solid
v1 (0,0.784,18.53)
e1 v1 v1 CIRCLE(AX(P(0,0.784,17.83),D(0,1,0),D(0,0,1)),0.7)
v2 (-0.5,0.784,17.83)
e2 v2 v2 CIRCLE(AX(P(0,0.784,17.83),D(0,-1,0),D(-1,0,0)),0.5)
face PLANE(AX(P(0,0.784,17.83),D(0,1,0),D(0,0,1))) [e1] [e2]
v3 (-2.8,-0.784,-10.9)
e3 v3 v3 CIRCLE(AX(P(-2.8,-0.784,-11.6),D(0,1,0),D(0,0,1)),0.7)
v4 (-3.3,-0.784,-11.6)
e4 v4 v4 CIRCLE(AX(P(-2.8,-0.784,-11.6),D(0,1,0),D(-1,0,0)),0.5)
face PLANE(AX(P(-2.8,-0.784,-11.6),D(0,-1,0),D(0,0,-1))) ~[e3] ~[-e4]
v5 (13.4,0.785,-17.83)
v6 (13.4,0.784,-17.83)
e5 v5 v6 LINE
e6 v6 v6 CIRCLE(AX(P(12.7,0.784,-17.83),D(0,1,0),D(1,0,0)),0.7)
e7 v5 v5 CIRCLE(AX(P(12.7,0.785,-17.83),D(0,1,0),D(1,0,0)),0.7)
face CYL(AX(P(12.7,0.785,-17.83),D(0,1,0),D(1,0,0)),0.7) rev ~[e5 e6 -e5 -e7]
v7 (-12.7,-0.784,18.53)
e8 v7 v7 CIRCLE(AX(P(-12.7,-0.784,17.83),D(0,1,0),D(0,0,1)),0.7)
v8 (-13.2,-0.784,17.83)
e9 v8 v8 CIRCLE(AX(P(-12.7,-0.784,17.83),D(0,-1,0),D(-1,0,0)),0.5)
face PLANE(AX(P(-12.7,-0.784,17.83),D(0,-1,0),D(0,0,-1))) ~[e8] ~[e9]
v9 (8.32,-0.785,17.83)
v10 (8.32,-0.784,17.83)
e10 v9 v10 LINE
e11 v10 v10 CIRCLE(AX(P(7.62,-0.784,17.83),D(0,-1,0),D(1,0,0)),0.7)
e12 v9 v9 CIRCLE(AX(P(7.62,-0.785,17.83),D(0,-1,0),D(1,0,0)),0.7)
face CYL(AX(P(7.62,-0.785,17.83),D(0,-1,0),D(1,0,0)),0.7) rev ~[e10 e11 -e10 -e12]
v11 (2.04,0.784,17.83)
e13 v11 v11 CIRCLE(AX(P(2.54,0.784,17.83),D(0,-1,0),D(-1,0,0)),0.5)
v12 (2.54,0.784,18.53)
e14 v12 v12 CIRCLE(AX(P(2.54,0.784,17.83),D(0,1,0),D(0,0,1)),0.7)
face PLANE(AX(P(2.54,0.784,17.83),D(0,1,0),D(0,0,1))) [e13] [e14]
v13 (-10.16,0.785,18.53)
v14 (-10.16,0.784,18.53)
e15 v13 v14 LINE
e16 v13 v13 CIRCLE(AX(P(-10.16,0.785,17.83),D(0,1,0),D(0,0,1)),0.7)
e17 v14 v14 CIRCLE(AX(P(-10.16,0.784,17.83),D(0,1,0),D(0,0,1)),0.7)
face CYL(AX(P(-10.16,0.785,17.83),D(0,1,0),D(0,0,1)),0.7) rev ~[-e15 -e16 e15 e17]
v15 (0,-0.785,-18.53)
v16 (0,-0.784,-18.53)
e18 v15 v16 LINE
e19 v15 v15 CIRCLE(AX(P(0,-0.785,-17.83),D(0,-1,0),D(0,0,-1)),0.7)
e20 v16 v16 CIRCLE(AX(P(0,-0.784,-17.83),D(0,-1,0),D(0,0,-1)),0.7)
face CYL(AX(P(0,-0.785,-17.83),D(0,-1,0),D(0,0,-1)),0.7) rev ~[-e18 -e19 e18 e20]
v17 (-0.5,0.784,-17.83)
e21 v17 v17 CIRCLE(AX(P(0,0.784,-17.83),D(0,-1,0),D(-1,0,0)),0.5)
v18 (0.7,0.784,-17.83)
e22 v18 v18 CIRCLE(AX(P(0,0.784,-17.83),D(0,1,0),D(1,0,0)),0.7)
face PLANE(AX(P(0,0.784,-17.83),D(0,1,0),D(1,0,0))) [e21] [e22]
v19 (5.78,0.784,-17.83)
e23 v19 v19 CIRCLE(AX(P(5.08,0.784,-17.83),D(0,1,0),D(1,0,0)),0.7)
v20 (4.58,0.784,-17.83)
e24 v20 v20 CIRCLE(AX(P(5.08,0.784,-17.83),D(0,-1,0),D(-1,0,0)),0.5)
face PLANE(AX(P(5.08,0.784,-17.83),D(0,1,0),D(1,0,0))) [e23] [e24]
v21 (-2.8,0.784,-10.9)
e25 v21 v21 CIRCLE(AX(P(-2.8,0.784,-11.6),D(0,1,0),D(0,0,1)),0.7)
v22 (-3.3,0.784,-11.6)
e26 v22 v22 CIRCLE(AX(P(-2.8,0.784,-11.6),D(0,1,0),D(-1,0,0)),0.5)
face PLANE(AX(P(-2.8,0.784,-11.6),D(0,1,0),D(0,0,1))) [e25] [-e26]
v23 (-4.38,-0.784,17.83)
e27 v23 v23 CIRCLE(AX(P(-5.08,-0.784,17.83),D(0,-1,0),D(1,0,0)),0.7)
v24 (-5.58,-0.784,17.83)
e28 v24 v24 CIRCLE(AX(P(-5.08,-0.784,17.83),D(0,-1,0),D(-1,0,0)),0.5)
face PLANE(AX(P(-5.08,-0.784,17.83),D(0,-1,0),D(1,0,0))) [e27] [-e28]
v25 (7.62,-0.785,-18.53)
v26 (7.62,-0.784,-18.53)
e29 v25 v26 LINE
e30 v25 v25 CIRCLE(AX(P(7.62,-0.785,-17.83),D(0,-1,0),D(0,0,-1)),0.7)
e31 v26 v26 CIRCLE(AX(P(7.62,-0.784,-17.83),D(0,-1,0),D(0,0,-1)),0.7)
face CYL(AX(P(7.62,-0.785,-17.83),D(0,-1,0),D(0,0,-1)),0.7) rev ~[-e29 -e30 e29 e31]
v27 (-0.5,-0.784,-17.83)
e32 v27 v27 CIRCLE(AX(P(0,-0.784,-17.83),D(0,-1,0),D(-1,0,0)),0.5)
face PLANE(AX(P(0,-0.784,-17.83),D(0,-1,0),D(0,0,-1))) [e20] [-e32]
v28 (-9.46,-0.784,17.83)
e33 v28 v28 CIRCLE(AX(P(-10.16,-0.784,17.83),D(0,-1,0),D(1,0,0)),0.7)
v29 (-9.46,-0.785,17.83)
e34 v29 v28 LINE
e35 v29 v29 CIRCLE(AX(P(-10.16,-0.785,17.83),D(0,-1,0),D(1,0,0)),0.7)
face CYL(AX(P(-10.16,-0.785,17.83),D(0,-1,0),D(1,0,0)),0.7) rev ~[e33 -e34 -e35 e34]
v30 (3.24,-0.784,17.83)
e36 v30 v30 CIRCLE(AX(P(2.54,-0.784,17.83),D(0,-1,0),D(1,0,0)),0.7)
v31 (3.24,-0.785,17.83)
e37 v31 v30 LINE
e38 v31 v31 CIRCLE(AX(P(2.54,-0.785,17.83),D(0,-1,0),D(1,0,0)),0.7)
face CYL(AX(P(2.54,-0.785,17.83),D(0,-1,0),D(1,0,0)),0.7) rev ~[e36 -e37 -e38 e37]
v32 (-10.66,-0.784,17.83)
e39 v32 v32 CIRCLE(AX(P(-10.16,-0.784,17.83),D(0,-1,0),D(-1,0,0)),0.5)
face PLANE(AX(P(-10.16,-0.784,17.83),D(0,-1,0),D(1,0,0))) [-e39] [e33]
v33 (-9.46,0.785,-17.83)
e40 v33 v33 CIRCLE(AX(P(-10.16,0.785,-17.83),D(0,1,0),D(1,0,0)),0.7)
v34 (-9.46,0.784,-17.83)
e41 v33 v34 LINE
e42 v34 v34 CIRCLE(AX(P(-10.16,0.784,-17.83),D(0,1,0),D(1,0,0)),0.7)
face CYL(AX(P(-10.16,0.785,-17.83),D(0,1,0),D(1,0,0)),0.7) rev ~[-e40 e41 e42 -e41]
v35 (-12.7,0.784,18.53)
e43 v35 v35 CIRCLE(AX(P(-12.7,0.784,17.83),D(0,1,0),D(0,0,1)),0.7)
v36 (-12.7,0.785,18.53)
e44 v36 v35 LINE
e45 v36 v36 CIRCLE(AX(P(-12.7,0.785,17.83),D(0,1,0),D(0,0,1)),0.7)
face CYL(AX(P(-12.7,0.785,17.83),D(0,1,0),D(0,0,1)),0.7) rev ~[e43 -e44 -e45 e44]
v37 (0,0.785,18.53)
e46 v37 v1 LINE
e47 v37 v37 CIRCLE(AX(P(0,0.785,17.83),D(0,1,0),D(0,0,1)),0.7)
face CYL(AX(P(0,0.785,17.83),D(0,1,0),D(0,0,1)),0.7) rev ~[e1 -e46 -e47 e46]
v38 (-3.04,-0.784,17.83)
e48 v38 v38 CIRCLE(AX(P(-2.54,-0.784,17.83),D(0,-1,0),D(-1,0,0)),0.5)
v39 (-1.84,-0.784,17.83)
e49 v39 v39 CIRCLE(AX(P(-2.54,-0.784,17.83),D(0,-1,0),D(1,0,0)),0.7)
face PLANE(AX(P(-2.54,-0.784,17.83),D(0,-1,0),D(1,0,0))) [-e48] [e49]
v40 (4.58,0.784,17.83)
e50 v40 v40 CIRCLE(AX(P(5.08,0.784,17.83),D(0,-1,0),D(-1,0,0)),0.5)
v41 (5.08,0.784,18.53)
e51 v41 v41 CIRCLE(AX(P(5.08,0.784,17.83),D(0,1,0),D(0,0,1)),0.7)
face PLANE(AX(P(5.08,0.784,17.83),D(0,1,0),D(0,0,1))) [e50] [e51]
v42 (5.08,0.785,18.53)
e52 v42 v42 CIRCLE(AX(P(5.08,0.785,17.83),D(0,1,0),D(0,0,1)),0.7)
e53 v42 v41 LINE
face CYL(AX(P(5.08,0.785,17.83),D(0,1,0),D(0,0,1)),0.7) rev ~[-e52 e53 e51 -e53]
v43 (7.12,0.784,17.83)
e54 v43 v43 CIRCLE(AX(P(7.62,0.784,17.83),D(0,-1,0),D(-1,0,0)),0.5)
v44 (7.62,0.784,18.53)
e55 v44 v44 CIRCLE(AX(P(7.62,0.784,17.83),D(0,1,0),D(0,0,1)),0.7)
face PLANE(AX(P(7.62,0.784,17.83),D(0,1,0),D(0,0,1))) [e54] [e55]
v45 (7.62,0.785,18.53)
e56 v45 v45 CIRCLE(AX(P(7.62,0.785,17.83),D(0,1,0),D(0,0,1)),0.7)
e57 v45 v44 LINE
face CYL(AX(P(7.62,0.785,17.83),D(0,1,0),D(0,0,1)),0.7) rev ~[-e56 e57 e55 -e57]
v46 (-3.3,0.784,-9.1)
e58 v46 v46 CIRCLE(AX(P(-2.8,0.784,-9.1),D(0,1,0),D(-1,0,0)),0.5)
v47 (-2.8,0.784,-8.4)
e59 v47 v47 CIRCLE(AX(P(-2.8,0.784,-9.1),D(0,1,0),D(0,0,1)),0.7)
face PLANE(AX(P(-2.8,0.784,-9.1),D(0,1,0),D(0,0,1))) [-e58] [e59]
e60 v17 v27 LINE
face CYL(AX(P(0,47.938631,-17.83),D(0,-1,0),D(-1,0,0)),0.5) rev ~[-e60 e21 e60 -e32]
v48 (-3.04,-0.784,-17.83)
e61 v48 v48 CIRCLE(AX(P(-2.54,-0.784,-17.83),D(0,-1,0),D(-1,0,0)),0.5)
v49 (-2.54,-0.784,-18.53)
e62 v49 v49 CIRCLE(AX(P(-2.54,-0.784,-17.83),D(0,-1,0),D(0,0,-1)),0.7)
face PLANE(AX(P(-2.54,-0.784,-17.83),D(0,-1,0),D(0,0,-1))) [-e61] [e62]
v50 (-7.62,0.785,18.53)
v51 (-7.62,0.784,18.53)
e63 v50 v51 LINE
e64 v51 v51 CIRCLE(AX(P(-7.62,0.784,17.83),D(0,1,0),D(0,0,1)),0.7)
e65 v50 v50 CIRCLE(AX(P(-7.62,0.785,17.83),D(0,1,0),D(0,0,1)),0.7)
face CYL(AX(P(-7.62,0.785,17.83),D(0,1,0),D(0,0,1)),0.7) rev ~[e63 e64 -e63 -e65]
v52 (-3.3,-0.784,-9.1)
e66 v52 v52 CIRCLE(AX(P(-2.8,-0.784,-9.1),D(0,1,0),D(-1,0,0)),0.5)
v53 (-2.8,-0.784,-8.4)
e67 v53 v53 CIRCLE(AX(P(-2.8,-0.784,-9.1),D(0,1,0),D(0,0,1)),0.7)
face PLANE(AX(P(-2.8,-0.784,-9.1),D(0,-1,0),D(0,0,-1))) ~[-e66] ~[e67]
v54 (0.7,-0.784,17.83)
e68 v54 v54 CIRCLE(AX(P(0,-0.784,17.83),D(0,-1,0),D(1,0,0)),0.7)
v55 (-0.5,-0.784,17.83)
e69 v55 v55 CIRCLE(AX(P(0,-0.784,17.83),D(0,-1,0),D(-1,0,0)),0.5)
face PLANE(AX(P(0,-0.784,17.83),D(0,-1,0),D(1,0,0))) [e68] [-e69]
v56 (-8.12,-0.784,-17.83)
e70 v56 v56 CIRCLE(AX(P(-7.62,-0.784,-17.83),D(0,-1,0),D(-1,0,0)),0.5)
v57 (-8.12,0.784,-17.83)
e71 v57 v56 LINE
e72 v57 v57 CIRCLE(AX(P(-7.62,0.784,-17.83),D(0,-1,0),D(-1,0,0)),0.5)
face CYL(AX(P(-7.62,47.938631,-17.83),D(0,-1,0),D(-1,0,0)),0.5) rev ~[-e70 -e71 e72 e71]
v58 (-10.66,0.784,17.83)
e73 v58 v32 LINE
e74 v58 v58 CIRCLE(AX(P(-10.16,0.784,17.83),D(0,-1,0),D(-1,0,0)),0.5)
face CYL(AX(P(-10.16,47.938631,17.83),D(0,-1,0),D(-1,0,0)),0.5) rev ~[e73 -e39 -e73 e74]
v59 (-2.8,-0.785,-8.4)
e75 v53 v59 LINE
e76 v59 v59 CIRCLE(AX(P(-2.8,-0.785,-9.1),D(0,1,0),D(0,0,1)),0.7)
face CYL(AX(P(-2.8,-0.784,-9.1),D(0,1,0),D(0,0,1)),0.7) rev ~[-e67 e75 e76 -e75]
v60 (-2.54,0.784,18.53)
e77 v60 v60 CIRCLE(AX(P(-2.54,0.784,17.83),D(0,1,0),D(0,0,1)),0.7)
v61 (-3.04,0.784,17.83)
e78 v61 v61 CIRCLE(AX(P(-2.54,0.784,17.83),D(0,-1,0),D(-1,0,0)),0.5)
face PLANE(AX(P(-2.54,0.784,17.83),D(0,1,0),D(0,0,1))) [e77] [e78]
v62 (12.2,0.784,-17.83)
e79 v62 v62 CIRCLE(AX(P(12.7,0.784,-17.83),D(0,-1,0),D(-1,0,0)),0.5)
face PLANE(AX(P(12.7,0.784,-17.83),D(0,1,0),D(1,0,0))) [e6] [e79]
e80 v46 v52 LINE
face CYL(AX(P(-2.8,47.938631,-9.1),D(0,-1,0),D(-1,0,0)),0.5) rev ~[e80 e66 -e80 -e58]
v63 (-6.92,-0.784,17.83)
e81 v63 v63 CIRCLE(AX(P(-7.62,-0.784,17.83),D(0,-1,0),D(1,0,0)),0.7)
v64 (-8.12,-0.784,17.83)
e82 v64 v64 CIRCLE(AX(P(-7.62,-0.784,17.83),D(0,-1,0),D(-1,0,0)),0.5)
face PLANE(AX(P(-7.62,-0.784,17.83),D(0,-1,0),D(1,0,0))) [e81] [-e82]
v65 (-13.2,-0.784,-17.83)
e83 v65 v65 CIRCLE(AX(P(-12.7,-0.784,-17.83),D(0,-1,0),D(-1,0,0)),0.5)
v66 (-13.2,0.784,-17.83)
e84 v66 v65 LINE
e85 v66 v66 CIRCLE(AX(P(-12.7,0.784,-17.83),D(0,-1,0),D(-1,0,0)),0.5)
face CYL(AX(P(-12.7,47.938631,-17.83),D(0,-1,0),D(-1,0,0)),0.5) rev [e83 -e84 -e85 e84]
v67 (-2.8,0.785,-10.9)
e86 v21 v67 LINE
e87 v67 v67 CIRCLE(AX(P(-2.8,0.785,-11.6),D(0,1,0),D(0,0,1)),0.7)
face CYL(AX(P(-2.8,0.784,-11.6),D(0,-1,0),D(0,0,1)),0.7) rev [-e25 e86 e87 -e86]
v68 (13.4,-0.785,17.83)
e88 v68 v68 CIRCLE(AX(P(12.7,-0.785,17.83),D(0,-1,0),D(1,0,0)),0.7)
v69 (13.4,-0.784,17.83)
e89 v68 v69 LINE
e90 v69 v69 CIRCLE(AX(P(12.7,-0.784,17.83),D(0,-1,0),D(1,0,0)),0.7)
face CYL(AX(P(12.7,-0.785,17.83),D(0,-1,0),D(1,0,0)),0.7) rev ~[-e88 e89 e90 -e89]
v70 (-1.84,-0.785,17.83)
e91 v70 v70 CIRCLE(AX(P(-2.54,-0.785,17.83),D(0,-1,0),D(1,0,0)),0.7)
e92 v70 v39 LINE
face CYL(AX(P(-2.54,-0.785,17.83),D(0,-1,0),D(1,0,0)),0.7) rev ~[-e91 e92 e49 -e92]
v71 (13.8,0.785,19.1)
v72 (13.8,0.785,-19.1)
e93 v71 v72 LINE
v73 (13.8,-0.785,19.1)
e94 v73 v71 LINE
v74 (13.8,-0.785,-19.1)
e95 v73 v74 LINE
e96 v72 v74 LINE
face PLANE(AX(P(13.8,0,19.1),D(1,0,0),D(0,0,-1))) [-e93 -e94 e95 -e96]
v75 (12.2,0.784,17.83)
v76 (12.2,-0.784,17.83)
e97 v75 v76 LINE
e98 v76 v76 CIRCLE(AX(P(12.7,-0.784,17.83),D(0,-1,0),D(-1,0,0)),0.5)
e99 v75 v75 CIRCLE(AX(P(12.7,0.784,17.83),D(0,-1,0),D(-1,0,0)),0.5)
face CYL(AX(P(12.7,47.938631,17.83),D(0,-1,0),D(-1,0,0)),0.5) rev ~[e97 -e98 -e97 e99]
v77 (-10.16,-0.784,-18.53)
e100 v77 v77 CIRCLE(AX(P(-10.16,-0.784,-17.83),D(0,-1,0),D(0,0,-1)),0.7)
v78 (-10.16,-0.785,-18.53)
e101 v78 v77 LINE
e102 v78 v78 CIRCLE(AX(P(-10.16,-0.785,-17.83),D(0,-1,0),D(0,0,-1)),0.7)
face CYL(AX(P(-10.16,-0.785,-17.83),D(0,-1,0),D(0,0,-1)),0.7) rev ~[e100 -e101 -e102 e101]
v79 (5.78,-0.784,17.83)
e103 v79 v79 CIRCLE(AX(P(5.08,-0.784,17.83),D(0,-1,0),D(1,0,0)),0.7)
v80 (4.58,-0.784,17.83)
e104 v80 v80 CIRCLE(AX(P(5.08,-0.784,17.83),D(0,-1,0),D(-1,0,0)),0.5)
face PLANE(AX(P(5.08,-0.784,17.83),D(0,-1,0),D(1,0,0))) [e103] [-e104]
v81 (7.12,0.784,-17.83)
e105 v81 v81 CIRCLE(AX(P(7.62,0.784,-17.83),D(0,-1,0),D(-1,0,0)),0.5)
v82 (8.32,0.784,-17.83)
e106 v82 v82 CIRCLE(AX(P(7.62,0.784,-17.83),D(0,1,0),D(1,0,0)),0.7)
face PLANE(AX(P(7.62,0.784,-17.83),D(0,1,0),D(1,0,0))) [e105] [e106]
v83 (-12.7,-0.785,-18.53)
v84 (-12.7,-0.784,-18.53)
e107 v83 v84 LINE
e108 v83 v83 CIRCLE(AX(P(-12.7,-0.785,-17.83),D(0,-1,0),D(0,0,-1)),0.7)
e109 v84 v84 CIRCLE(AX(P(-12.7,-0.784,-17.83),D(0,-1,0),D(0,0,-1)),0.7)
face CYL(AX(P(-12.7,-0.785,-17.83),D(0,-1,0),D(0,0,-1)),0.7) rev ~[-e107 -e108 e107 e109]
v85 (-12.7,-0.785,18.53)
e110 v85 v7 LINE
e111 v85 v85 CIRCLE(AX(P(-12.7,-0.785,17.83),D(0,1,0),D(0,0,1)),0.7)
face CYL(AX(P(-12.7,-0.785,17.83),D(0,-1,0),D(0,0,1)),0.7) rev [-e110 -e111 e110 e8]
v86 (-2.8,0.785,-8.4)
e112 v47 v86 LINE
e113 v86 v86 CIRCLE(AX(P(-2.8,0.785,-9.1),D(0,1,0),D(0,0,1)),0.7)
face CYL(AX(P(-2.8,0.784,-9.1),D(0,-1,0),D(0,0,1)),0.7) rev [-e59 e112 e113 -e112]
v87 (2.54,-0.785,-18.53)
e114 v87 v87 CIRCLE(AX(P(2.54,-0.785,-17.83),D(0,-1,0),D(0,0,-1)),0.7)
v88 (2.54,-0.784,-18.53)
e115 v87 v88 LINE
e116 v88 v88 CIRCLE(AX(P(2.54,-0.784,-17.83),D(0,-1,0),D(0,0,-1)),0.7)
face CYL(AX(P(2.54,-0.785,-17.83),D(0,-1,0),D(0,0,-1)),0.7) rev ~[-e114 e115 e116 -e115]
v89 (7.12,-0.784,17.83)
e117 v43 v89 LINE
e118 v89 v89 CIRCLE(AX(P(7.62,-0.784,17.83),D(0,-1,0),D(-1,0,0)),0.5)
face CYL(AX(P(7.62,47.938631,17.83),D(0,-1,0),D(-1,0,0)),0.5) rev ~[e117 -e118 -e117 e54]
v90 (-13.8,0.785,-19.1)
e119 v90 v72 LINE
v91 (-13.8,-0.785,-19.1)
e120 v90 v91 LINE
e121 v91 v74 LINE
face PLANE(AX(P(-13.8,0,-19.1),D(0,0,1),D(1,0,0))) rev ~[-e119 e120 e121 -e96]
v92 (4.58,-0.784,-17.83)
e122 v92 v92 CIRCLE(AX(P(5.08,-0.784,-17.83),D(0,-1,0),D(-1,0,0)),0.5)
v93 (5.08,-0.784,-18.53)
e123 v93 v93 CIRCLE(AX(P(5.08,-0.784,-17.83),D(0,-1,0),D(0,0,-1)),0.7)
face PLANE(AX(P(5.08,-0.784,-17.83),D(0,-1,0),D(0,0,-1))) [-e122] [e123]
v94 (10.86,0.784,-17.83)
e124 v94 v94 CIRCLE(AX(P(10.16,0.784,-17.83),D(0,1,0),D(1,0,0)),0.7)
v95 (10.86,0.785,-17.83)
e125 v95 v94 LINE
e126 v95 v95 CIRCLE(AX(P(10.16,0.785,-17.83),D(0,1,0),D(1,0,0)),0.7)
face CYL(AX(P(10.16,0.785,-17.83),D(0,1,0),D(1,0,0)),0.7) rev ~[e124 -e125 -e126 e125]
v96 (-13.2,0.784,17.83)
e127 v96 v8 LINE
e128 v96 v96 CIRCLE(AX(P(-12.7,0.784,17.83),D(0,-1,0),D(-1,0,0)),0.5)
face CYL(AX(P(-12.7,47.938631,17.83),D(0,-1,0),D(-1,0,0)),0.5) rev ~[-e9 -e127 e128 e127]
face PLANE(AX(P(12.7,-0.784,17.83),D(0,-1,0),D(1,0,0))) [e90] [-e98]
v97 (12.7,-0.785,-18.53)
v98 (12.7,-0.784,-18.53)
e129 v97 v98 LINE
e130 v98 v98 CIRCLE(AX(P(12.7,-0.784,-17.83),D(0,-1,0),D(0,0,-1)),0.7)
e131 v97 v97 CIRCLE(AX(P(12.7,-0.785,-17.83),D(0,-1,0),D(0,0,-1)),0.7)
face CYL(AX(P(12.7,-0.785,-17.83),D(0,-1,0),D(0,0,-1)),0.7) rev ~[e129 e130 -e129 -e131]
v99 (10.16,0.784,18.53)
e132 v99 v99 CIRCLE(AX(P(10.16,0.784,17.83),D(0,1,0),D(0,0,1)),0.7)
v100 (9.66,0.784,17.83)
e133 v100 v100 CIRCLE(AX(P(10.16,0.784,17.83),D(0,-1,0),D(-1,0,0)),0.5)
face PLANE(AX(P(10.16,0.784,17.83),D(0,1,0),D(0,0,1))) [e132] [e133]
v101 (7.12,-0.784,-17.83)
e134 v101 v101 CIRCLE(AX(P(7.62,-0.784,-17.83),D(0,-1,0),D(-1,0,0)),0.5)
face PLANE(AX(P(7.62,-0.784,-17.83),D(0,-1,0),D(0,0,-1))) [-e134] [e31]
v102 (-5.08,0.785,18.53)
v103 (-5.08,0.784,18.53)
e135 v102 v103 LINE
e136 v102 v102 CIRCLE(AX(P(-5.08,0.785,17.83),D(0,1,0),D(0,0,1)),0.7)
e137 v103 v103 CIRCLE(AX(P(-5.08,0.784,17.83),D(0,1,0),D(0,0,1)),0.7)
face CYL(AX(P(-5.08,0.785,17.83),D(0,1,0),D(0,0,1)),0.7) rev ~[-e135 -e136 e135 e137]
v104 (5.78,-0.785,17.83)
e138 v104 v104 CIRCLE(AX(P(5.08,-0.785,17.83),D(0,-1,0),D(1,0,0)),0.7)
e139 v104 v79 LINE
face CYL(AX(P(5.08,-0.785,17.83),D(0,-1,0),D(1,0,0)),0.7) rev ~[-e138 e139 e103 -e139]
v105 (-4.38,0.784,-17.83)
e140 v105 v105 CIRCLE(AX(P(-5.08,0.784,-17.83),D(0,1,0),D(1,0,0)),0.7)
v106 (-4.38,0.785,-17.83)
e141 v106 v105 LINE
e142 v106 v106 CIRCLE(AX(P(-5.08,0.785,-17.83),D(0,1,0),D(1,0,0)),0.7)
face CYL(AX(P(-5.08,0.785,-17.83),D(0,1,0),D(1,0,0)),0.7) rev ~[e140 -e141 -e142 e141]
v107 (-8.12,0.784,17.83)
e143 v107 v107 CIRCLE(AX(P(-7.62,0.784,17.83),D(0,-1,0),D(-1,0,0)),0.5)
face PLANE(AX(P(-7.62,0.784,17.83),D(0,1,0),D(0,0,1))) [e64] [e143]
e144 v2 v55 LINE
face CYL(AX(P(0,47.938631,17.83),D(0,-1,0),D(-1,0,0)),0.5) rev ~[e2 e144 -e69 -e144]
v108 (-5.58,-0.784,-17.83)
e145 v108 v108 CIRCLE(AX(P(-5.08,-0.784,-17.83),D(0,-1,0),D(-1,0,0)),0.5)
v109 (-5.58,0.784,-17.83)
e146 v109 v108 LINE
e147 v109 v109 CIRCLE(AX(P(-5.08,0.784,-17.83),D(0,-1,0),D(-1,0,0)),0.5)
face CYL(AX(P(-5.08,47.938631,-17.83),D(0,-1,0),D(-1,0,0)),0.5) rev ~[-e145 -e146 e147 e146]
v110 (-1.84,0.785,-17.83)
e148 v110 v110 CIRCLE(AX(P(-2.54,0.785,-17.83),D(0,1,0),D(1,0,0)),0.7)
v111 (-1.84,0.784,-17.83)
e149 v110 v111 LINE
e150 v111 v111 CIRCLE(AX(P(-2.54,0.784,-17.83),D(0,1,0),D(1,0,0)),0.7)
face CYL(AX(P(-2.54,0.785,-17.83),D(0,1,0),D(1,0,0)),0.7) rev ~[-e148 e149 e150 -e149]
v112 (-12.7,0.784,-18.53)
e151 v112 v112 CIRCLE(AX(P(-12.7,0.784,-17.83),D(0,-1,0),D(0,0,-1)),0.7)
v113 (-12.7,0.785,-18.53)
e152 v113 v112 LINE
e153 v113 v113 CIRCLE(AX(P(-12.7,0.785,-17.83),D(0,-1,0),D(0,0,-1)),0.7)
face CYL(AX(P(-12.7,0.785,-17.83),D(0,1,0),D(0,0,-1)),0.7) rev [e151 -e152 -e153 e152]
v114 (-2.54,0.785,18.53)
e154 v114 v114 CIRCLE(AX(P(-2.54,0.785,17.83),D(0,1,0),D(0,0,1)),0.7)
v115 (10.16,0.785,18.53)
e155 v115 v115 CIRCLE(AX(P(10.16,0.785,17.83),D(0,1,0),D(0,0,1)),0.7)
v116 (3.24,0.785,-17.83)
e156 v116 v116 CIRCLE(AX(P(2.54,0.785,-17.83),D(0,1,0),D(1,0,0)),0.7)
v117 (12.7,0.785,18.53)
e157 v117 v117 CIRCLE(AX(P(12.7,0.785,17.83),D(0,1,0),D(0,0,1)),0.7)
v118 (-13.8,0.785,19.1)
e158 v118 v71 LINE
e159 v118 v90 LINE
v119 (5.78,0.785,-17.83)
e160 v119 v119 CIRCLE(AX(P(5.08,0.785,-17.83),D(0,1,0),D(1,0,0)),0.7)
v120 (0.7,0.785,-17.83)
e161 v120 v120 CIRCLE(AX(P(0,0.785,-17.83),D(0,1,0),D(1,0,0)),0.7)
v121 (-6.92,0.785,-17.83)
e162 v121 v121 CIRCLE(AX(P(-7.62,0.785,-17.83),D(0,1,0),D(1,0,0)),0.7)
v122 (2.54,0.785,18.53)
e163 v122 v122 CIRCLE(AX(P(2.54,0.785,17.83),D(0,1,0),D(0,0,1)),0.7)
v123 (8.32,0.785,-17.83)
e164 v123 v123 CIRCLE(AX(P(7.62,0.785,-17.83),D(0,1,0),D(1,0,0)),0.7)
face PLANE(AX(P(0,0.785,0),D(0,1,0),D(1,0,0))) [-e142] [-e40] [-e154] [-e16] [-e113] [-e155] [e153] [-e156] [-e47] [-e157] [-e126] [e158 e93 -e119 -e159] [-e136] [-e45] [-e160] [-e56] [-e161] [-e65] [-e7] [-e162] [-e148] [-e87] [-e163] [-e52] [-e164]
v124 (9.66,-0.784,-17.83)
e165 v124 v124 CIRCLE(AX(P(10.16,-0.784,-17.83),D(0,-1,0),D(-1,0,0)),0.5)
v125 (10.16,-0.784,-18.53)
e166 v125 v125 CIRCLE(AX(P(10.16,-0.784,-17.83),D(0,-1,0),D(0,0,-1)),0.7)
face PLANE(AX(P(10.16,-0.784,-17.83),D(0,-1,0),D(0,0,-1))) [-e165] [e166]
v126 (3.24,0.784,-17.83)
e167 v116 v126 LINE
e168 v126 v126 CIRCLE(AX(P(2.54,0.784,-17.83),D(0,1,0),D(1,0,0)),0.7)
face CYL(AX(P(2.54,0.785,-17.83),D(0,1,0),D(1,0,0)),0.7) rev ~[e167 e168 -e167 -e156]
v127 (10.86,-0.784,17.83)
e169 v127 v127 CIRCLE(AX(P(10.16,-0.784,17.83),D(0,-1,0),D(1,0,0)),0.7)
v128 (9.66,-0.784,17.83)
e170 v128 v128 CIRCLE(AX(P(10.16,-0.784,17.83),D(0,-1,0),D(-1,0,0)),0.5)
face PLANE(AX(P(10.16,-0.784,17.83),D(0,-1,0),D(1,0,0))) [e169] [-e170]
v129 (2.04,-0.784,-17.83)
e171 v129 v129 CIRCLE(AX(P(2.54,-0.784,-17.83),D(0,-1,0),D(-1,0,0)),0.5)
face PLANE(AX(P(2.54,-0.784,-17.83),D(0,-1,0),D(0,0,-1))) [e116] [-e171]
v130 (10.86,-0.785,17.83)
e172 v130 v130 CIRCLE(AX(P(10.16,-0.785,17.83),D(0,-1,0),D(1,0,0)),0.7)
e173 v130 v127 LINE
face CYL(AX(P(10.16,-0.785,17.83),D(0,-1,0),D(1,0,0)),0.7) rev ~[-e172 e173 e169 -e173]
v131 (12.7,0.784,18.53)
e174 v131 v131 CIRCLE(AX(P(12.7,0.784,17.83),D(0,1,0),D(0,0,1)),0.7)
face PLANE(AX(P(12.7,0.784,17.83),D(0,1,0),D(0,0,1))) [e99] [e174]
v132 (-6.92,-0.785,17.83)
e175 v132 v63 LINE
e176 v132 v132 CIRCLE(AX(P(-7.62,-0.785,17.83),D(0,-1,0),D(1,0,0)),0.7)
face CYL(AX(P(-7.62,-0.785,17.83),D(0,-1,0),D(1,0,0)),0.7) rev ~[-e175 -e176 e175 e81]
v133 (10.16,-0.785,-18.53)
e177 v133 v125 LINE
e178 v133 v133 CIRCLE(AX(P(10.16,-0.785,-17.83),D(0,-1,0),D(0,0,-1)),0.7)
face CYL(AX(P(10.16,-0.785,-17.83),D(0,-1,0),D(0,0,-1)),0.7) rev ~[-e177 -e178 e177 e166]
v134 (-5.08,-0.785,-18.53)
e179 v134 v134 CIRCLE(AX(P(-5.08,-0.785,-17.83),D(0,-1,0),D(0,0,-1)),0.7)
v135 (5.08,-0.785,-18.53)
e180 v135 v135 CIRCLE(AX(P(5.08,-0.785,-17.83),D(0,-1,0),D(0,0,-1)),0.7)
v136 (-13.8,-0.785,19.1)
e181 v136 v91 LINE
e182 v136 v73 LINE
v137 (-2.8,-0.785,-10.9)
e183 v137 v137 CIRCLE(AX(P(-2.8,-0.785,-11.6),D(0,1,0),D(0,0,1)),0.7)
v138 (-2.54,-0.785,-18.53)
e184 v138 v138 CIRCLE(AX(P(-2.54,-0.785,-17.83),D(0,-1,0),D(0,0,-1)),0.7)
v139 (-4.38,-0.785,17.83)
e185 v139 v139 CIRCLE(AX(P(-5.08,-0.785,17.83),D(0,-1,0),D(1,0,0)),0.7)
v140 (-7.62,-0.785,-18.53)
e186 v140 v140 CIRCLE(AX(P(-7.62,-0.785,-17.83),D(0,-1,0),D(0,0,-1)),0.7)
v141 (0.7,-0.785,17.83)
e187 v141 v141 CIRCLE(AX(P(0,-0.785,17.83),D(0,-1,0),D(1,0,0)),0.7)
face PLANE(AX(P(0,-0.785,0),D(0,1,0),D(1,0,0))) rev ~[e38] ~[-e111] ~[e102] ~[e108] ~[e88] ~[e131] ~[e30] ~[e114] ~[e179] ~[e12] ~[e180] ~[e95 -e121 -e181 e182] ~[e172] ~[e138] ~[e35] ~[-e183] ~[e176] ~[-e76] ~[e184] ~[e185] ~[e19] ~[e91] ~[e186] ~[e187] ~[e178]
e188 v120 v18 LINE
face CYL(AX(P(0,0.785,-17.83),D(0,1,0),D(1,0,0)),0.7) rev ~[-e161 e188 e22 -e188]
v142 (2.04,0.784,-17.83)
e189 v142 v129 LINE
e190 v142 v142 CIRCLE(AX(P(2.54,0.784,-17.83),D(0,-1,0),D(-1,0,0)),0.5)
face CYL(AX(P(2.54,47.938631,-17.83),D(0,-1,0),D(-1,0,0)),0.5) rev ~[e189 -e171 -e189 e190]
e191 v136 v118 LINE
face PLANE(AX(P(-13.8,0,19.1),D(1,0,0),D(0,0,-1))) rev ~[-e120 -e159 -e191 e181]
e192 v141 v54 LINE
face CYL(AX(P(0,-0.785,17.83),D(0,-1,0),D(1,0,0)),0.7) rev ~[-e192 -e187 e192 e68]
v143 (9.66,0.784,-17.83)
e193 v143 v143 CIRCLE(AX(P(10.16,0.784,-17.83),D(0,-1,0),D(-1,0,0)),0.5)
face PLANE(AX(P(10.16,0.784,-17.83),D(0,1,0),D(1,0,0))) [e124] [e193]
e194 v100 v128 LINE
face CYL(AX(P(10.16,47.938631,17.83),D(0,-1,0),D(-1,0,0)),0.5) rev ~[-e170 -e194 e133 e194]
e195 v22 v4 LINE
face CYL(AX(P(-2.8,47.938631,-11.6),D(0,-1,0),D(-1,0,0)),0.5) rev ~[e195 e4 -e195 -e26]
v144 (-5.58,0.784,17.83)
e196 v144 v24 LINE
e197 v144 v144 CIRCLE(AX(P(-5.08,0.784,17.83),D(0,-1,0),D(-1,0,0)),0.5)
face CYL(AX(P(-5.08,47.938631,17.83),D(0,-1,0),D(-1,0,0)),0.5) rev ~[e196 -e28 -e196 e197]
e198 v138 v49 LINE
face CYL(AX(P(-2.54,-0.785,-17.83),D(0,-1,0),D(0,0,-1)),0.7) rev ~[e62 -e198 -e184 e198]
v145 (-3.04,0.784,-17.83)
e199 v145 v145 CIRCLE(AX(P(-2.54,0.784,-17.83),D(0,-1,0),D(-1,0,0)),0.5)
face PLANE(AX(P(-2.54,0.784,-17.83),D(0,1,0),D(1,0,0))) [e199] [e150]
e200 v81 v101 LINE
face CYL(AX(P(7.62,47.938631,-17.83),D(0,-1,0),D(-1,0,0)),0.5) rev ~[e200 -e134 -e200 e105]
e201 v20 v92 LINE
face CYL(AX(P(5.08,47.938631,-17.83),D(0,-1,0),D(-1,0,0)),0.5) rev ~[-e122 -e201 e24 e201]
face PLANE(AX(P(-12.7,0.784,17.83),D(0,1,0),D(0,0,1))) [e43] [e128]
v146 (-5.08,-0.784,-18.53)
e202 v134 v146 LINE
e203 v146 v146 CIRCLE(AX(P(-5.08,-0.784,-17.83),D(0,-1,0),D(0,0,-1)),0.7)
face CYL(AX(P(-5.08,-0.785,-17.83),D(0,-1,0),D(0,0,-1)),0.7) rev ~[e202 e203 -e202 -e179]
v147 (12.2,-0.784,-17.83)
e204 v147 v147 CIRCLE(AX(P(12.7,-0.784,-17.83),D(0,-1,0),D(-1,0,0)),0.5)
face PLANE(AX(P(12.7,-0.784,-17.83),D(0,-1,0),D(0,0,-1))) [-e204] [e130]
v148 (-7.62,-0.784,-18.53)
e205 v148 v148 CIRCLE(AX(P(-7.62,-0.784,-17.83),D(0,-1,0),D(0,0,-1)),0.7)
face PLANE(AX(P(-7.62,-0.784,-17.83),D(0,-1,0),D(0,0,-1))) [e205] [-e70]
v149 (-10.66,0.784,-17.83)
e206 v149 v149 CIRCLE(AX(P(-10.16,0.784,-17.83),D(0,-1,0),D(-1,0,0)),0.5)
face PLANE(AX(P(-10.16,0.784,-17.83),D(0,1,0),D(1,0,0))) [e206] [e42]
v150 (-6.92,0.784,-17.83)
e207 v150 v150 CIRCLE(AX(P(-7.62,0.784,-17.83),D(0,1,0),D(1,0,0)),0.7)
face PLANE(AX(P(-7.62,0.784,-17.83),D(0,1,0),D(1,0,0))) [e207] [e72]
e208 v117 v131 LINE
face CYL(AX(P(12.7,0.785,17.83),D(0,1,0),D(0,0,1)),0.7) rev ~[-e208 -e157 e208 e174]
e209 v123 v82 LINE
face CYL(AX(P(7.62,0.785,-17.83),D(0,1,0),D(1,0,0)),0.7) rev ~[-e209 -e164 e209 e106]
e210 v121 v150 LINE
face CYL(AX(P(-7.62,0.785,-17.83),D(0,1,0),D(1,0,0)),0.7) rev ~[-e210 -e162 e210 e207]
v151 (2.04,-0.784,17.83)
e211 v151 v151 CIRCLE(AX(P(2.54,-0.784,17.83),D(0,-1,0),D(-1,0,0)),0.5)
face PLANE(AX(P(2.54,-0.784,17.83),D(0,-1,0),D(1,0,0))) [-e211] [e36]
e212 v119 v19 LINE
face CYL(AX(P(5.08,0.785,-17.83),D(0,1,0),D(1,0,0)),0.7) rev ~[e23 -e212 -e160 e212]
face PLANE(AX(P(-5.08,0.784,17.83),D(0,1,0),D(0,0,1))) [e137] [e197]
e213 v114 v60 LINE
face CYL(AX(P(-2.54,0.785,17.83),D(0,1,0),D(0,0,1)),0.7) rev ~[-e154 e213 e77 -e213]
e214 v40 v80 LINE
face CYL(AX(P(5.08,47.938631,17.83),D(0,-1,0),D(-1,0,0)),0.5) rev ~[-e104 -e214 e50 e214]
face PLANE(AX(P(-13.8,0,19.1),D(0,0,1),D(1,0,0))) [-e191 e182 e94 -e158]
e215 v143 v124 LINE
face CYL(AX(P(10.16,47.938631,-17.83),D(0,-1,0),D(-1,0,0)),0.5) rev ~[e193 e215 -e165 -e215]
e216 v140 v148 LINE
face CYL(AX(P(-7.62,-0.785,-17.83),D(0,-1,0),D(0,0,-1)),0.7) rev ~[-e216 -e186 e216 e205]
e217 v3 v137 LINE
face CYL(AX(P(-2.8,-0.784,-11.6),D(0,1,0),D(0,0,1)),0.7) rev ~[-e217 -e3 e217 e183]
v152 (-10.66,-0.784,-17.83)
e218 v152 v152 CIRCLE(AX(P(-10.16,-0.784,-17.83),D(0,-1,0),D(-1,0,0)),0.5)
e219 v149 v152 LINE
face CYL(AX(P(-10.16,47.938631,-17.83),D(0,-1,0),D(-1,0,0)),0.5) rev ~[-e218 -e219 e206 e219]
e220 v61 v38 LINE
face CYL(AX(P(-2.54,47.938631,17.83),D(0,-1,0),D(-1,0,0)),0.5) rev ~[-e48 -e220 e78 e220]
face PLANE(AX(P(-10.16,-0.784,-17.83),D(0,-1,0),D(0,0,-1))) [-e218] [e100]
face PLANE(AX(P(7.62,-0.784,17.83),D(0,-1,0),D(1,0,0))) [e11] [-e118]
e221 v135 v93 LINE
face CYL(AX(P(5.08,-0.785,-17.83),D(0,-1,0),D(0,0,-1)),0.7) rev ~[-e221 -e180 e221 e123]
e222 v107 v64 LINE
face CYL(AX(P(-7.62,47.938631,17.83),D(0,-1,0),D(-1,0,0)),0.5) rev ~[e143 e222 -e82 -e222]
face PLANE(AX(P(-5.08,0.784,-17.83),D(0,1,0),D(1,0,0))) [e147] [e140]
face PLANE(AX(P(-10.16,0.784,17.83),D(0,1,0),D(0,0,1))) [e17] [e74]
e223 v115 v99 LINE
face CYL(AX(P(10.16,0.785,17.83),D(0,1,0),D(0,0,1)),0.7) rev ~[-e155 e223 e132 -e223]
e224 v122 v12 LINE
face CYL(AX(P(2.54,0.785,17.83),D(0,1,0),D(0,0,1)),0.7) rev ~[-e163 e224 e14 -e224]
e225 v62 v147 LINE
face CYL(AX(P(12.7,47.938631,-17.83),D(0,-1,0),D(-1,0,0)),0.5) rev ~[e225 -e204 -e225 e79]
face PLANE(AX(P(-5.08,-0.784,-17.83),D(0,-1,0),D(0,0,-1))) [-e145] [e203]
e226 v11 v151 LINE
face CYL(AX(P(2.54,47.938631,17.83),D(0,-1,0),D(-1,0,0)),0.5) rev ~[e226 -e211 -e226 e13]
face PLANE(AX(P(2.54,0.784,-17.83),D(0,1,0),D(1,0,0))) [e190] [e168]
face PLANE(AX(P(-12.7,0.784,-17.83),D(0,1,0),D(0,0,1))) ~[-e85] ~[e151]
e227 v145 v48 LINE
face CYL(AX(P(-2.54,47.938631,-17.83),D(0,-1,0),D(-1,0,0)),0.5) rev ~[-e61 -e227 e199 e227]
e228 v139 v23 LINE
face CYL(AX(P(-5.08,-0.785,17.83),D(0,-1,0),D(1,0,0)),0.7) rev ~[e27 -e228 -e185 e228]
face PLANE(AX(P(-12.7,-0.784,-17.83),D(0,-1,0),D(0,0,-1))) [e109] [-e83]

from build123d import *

# Parameters (mm, degrees)
BASES_W                           = 27.6
BASES_H                           = 38.2
BASE_DEPTH                        = 0.785
F_1_0_1_DIAMETER_HOLE1_D          = 1
SOLDERACCESSCUTS_R                = 0.7
SOLDERACCESSCUT_DEPTH             = 0.001
HOLESACHORZLP_COUNT               = 11
HOLESACHORZLP_PITCH               = 2.54
HOLESACHORZLP_COPY_1_SKETCH_R     = 0.7
HOLESACHORZLP_COPY_1_DEPTH        = 0.001
HOLESACHORZLP_COPY_2_SKETCH_R     = 0.7
HOLESACHORZLP_COPY_2_DEPTH        = 0.001
HOLESACHORZLP_COPY_3_SKETCH_R     = 0.7
HOLESACHORZLP_COPY_3_DEPTH        = 0.001
HOLESACHORZLP_COPY_4_SKETCH_R     = 0.7
HOLESACHORZLP_COPY_4_DEPTH        = 0.001
HOLESACHORZLP_COPY_5_SKETCH_R     = 0.7
HOLESACHORZLP_COPY_5_DEPTH        = 0.001
HOLESACHORZLP_COPY_6_SKETCH_R     = 0.7
HOLESACHORZLP_COPY_6_DEPTH        = 0.001
HOLESACHORZLP_COPY_7_SKETCH_R     = 0.7
HOLESACHORZLP_COPY_7_DEPTH        = 0.001
HOLESACHORZLP_COPY_8_SKETCH_R     = 0.7
HOLESACHORZLP_COPY_8_DEPTH        = 0.001
HOLESACHORZLP_COPY_9_SKETCH_R     = 0.7
HOLESACHORZLP_COPY_9_DEPTH        = 0.001
HOLESACHORZLP_COPY_10_SKETCH_R    = 0.7
HOLESACHORZLP_COPY_10_DEPTH       = 0.001
MIRROR1_COPY_1_SKETCH_R           = 0.7
MIRROR1_COPY_1_DEPTH              = 0.001
MIRROR1_COPY_2_D                  = 1
MIRROR1_COPY_3_D                  = 1
MIRROR1_COPY_4_D                  = 1
MIRROR1_COPY_5_D                  = 1
MIRROR1_COPY_6_D                  = 1
MIRROR1_COPY_7_D                  = 1
MIRROR1_COPY_8_D                  = 1
MIRROR1_COPY_9_D                  = 1
MIRROR1_COPY_10_D                 = 1
MIRROR1_COPY_11_D                 = 1
MIRROR1_COPY_12_SKETCH_R          = 0.7
MIRROR1_COPY_12_DEPTH             = 0.001
MIRROR1_COPY_13_SKETCH_R          = 0.7
MIRROR1_COPY_13_DEPTH             = 0.001
MIRROR1_COPY_14_SKETCH_R          = 0.7
MIRROR1_COPY_14_DEPTH             = 0.001
MIRROR1_COPY_15_SKETCH_R          = 0.7
MIRROR1_COPY_15_DEPTH             = 0.001
MIRROR1_COPY_16_SKETCH_R          = 0.7
MIRROR1_COPY_16_DEPTH             = 0.001
MIRROR1_COPY_17_SKETCH_R          = 0.7
MIRROR1_COPY_17_DEPTH             = 0.001
MIRROR1_COPY_18_SKETCH_R          = 0.7
MIRROR1_COPY_18_DEPTH             = 0.001
MIRROR1_COPY_19_SKETCH_R          = 0.7
MIRROR1_COPY_19_DEPTH             = 0.001
MIRROR1_COPY_20_SKETCH_R          = 0.7
MIRROR1_COPY_20_DEPTH             = 0.001
MIRROR1_COPY_21_SKETCH_R          = 0.7
MIRROR1_COPY_21_DEPTH             = 0.001
MIRROR1_COPY_22_SKETCH_R          = 0.7
MIRROR1_COPY_22_DEPTH             = 0.001
MIRROR1_COPY_23_SKETCH_R          = 0.7
MIRROR1_COPY_23_DEPTH             = 0.001
MIRROR1_COPY_24_SKETCH_R          = 0.7
MIRROR1_COPY_24_DEPTH             = 0.001
MIRROR1_COPY_25_SKETCH_R          = 0.7
MIRROR1_COPY_25_DEPTH             = 0.001
MIRROR1_COPY_26_SKETCH_R          = 0.7
MIRROR1_COPY_26_DEPTH             = 0.001
MIRROR1_COPY_27_SKETCH_R          = 0.7
MIRROR1_COPY_27_DEPTH             = 0.001
MIRROR1_COPY_28_SKETCH_R          = 0.7
MIRROR1_COPY_28_DEPTH             = 0.001
MIRROR1_COPY_29_SKETCH_R          = 0.7
MIRROR1_COPY_29_DEPTH             = 0.001
MIRROR1_COPY_30_SKETCH_R          = 0.7
MIRROR1_COPY_30_DEPTH             = 0.001
MIRROR1_COPY_31_SKETCH_R          = 0.7
MIRROR1_COPY_31_DEPTH             = 0.001
F_1_0_1_DIAMETER_HOLE2_D          = 1
SOLDERACCESSCUTFORCAPACITOR_START = -0.001
SOLDERACCESSCUTFORCAPACITORS_R    = 0.7
SOLDERACCESSCUTFORCAPACITORS_R_2  = 0.5
SOLDERACCESSCUTFORCAPACITOR_DEPTH = 0.001


with BuildPart() as part:
    # BaseS → Base (new, symmetric)
    with BuildSketch(Plane(origin=(0, 0, 0), x_dir=(1, 0, 0), z_dir=(0, 1, 0))):
        Rectangle(BASES_W, BASES_H)
    extrude(amount=BASE_DEPTH, both=True)

    # Ø1.0 (1) Diameter Hole1 (through all)
    with Locations(Plane(origin=(0, 0.785, 0), x_dir=(1, 0, 0), z_dir=(0, 1, 0))):
        with Locations((-12.7, -17.83)):
            f_1_0_1_diameter_hole1 = Hole(F_1_0_1_DIAMETER_HOLE1_D / 2)

    # SolderAccessCutS → SolderAccessCut (cut)
    with BuildSketch(Plane(origin=(0, 0.785, 0), x_dir=(1, 0, 0), z_dir=(0, 1, 0))):
        with Locations(Location((-12.7, -17.83, 0), (0, 0, 270))):
            Circle(SOLDERACCESSCUTS_R)
    solderaccesscut = extrude(amount=-SOLDERACCESSCUT_DEPTH, mode=Mode.SUBTRACT)

    # SACVM: SolderAccessCut across plane
    add(solderaccesscut.mirror(Plane.ZX), mode=Mode.SUBTRACT)

    # HoleSACHorzLP: Ø1.0 (1) Diameter Hole1, SolderAccessCut ×11
    with Locations(*[(i * HOLESACHORZLP_PITCH, 0, 0) for i in range(1, HOLESACHORZLP_COUNT)]):
        add(f_1_0_1_diameter_hole1, mode=Mode.SUBTRACT)
        add(solderaccesscut, mode=Mode.SUBTRACT)

    # HoleSACHorzLP copy 1 sketch → HoleSACHorzLP copy 1 (cut)
    with BuildSketch(Plane(origin=(2.54, -0.785, 0), x_dir=(1, 0, 0), z_dir=(0, -1, 0))):
        with Locations((-12.7, 17.83)):
            Circle(HOLESACHORZLP_COPY_1_SKETCH_R)
    extrude(amount=-HOLESACHORZLP_COPY_1_DEPTH, mode=Mode.SUBTRACT)

    # HoleSACHorzLP copy 2 sketch → HoleSACHorzLP copy 2 (cut)
    with BuildSketch(Plane(origin=(5.08, -0.785, 0), x_dir=(1, 0, 0), z_dir=(0, -1, 0))):
        with Locations((-12.7, 17.83)):
            Circle(HOLESACHORZLP_COPY_2_SKETCH_R)
    extrude(amount=-HOLESACHORZLP_COPY_2_DEPTH, mode=Mode.SUBTRACT)

    # HoleSACHorzLP copy 3 sketch → HoleSACHorzLP copy 3 (cut)
    with BuildSketch(Plane(origin=(7.62, -0.785, 0), x_dir=(1, 0, 0), z_dir=(0, -1, 0))):
        with Locations((-12.7, 17.83)):
            Circle(HOLESACHORZLP_COPY_3_SKETCH_R)
    extrude(amount=-HOLESACHORZLP_COPY_3_DEPTH, mode=Mode.SUBTRACT)

    # HoleSACHorzLP copy 4 sketch → HoleSACHorzLP copy 4 (cut)
    with BuildSketch(Plane(origin=(10.16, -0.785, 0), x_dir=(1, 0, 0), z_dir=(0, -1, 0))):
        with Locations((-12.7, 17.83)):
            Circle(HOLESACHORZLP_COPY_4_SKETCH_R)
    extrude(amount=-HOLESACHORZLP_COPY_4_DEPTH, mode=Mode.SUBTRACT)

    # HoleSACHorzLP copy 5 sketch → HoleSACHorzLP copy 5 (cut)
    with BuildSketch(Plane(origin=(12.7, -0.785, 0), x_dir=(1, 0, 0), z_dir=(0, -1, 0))):
        with Locations((-12.7, 17.83)):
            Circle(HOLESACHORZLP_COPY_5_SKETCH_R)
    extrude(amount=-HOLESACHORZLP_COPY_5_DEPTH, mode=Mode.SUBTRACT)

    # HoleSACHorzLP copy 6 sketch → HoleSACHorzLP copy 6 (cut)
    with BuildSketch(Plane(origin=(15.24, -0.785, 0), x_dir=(1, 0, 0), z_dir=(0, -1, 0))):
        with Locations((-12.7, 17.83)):
            Circle(HOLESACHORZLP_COPY_6_SKETCH_R)
    extrude(amount=-HOLESACHORZLP_COPY_6_DEPTH, mode=Mode.SUBTRACT)

    # HoleSACHorzLP copy 7 sketch → HoleSACHorzLP copy 7 (cut)
    with BuildSketch(Plane(origin=(17.78, -0.785, 0), x_dir=(1, 0, 0), z_dir=(0, -1, 0))):
        with Locations((-12.7, 17.83)):
            Circle(HOLESACHORZLP_COPY_7_SKETCH_R)
    extrude(amount=-HOLESACHORZLP_COPY_7_DEPTH, mode=Mode.SUBTRACT)

    # HoleSACHorzLP copy 8 sketch → HoleSACHorzLP copy 8 (cut)
    with BuildSketch(Plane(origin=(20.32, -0.785, 0), x_dir=(1, 0, 0), z_dir=(0, -1, 0))):
        with Locations((-12.7, 17.83)):
            Circle(HOLESACHORZLP_COPY_8_SKETCH_R)
    extrude(amount=-HOLESACHORZLP_COPY_8_DEPTH, mode=Mode.SUBTRACT)

    # HoleSACHorzLP copy 9 sketch → HoleSACHorzLP copy 9 (cut)
    with BuildSketch(Plane(origin=(22.86, -0.785, 0), x_dir=(1, 0, 0), z_dir=(0, -1, 0))):
        with Locations((-12.7, 17.83)):
            Circle(HOLESACHORZLP_COPY_9_SKETCH_R)
    extrude(amount=-HOLESACHORZLP_COPY_9_DEPTH, mode=Mode.SUBTRACT)

    # HoleSACHorzLP copy 10 sketch → HoleSACHorzLP copy 10 (cut)
    with BuildSketch(Plane(origin=(25.4, -0.785, 0), x_dir=(1, 0, 0), z_dir=(0, -1, 0))):
        with Locations((-12.7, 17.83)):
            Circle(HOLESACHORZLP_COPY_10_SKETCH_R)
    extrude(amount=-HOLESACHORZLP_COPY_10_DEPTH, mode=Mode.SUBTRACT)

    # Mirror1: Ø1.0 (1) Diameter Hole1, SolderAccessCut across plane
    add(f_1_0_1_diameter_hole1.mirror(Plane.XY), mode=Mode.SUBTRACT)
    add(solderaccesscut.mirror(Plane.XY), mode=Mode.SUBTRACT)

    # Mirror1 copy 1 sketch → Mirror1 copy 1 (cut)
    with BuildSketch(Plane.XZ.offset(0.785)):
        with Locations(Location((-12.7, -17.83, 0), (0, 0, 270))):
            Circle(MIRROR1_COPY_1_SKETCH_R)
    extrude(amount=-MIRROR1_COPY_1_DEPTH, mode=Mode.SUBTRACT)

    # Mirror1 copy 2 (through all)
    with Locations(Plane(origin=(2.54, 0.785, 0), x_dir=(1, 0, 0), z_dir=(0, 1, 0))):
        with Locations((-12.7, 17.83)):
            Hole(MIRROR1_COPY_2_D / 2)

    # Mirror1 copy 3 (through all)
    with Locations(Plane(origin=(5.08, 0.785, 0), x_dir=(1, 0, 0), z_dir=(0, 1, 0))):
        with Locations((-12.7, 17.83)):
            Hole(MIRROR1_COPY_3_D / 2)

    # Mirror1 copy 4 (through all)
    with Locations(Plane(origin=(7.62, 0.785, 0), x_dir=(1, 0, 0), z_dir=(0, 1, 0))):
        with Locations((-12.7, 17.83)):
            Hole(MIRROR1_COPY_4_D / 2)

    # Mirror1 copy 5 (through all)
    with Locations(Plane(origin=(10.16, 0.785, 0), x_dir=(1, 0, 0), z_dir=(0, 1, 0))):
        with Locations((-12.7, 17.83)):
            Hole(MIRROR1_COPY_5_D / 2)

    # Mirror1 copy 6 (through all)
    with Locations(Plane(origin=(12.7, 0.785, 0), x_dir=(1, 0, 0), z_dir=(0, 1, 0))):
        with Locations((-12.7, 17.83)):
            Hole(MIRROR1_COPY_6_D / 2)

    # Mirror1 copy 7 (through all)
    with Locations(Plane(origin=(15.24, 0.785, 0), x_dir=(1, 0, 0), z_dir=(0, 1, 0))):
        with Locations((-12.7, 17.83)):
            Hole(MIRROR1_COPY_7_D / 2)

    # Mirror1 copy 8 (through all)
    with Locations(Plane(origin=(17.78, 0.785, 0), x_dir=(1, 0, 0), z_dir=(0, 1, 0))):
        with Locations((-12.7, 17.83)):
            Hole(MIRROR1_COPY_8_D / 2)

    # Mirror1 copy 9 (through all)
    with Locations(Plane(origin=(20.32, 0.785, 0), x_dir=(1, 0, 0), z_dir=(0, 1, 0))):
        with Locations((-12.7, 17.83)):
            Hole(MIRROR1_COPY_9_D / 2)

    # Mirror1 copy 10 (through all)
    with Locations(Plane(origin=(22.86, 0.785, 0), x_dir=(1, 0, 0), z_dir=(0, 1, 0))):
        with Locations((-12.7, 17.83)):
            Hole(MIRROR1_COPY_10_D / 2)

    # Mirror1 copy 11 (through all)
    with Locations(Plane(origin=(25.4, 0.785, 0), x_dir=(1, 0, 0), z_dir=(0, 1, 0))):
        with Locations((-12.7, 17.83)):
            Hole(MIRROR1_COPY_11_D / 2)

    # Mirror1 copy 12 sketch → Mirror1 copy 12 (cut)
    with BuildSketch(Plane(origin=(2.54, 0.785, 0), x_dir=(1, 0, 0), z_dir=(0, 1, 0))):
        with Locations((-12.7, 17.83)):
            Circle(MIRROR1_COPY_12_SKETCH_R)
    extrude(amount=-MIRROR1_COPY_12_DEPTH, mode=Mode.SUBTRACT)

    # Mirror1 copy 13 sketch → Mirror1 copy 13 (cut)
    with BuildSketch(Plane(origin=(5.08, 0.785, 0), x_dir=(1, 0, 0), z_dir=(0, 1, 0))):
        with Locations((-12.7, 17.83)):
            Circle(MIRROR1_COPY_13_SKETCH_R)
    extrude(amount=-MIRROR1_COPY_13_DEPTH, mode=Mode.SUBTRACT)

    # Mirror1 copy 14 sketch → Mirror1 copy 14 (cut)
    with BuildSketch(Plane(origin=(7.62, 0.785, 0), x_dir=(1, 0, 0), z_dir=(0, 1, 0))):
        with Locations((-12.7, 17.83)):
            Circle(MIRROR1_COPY_14_SKETCH_R)
    extrude(amount=-MIRROR1_COPY_14_DEPTH, mode=Mode.SUBTRACT)

    # Mirror1 copy 15 sketch → Mirror1 copy 15 (cut)
    with BuildSketch(Plane(origin=(10.16, 0.785, 0), x_dir=(1, 0, 0), z_dir=(0, 1, 0))):
        with Locations((-12.7, 17.83)):
            Circle(MIRROR1_COPY_15_SKETCH_R)
    extrude(amount=-MIRROR1_COPY_15_DEPTH, mode=Mode.SUBTRACT)

    # Mirror1 copy 16 sketch → Mirror1 copy 16 (cut)
    with BuildSketch(Plane(origin=(12.7, 0.785, 0), x_dir=(1, 0, 0), z_dir=(0, 1, 0))):
        with Locations((-12.7, 17.83)):
            Circle(MIRROR1_COPY_16_SKETCH_R)
    extrude(amount=-MIRROR1_COPY_16_DEPTH, mode=Mode.SUBTRACT)

    # Mirror1 copy 17 sketch → Mirror1 copy 17 (cut)
    with BuildSketch(Plane(origin=(15.24, 0.785, 0), x_dir=(1, 0, 0), z_dir=(0, 1, 0))):
        with Locations((-12.7, 17.83)):
            Circle(MIRROR1_COPY_17_SKETCH_R)
    extrude(amount=-MIRROR1_COPY_17_DEPTH, mode=Mode.SUBTRACT)

    # Mirror1 copy 18 sketch → Mirror1 copy 18 (cut)
    with BuildSketch(Plane(origin=(17.78, 0.785, 0), x_dir=(1, 0, 0), z_dir=(0, 1, 0))):
        with Locations((-12.7, 17.83)):
            Circle(MIRROR1_COPY_18_SKETCH_R)
    extrude(amount=-MIRROR1_COPY_18_DEPTH, mode=Mode.SUBTRACT)

    # Mirror1 copy 19 sketch → Mirror1 copy 19 (cut)
    with BuildSketch(Plane(origin=(20.32, 0.785, 0), x_dir=(1, 0, 0), z_dir=(0, 1, 0))):
        with Locations((-12.7, 17.83)):
            Circle(MIRROR1_COPY_19_SKETCH_R)
    extrude(amount=-MIRROR1_COPY_19_DEPTH, mode=Mode.SUBTRACT)

    # Mirror1 copy 20 sketch → Mirror1 copy 20 (cut)
    with BuildSketch(Plane(origin=(22.86, 0.785, 0), x_dir=(1, 0, 0), z_dir=(0, 1, 0))):
        with Locations((-12.7, 17.83)):
            Circle(MIRROR1_COPY_20_SKETCH_R)
    extrude(amount=-MIRROR1_COPY_20_DEPTH, mode=Mode.SUBTRACT)

    # Mirror1 copy 21 sketch → Mirror1 copy 21 (cut)
    with BuildSketch(Plane(origin=(25.4, 0.785, 0), x_dir=(1, 0, 0), z_dir=(0, 1, 0))):
        with Locations((-12.7, 17.83)):
            Circle(MIRROR1_COPY_21_SKETCH_R)
    extrude(amount=-MIRROR1_COPY_21_DEPTH, mode=Mode.SUBTRACT)

    # Mirror1 copy 22 sketch → Mirror1 copy 22 (cut)
    with BuildSketch(Plane(origin=(2.54, -0.785, 0), x_dir=(1, 0, 0), z_dir=(0, -1, 0))):
        with Locations(Location((-12.7, -17.83, 0), (0, 0, 270))):
            Circle(MIRROR1_COPY_22_SKETCH_R)
    extrude(amount=-MIRROR1_COPY_22_DEPTH, mode=Mode.SUBTRACT)

    # Mirror1 copy 23 sketch → Mirror1 copy 23 (cut)
    with BuildSketch(Plane(origin=(5.08, -0.785, 0), x_dir=(1, 0, 0), z_dir=(0, -1, 0))):
        with Locations(Location((-12.7, -17.83, 0), (0, 0, 270))):
            Circle(MIRROR1_COPY_23_SKETCH_R)
    extrude(amount=-MIRROR1_COPY_23_DEPTH, mode=Mode.SUBTRACT)

    # Mirror1 copy 24 sketch → Mirror1 copy 24 (cut)
    with BuildSketch(Plane(origin=(7.62, -0.785, 0), x_dir=(1, 0, 0), z_dir=(0, -1, 0))):
        with Locations(Location((-12.7, -17.83, 0), (0, 0, 270))):
            Circle(MIRROR1_COPY_24_SKETCH_R)
    extrude(amount=-MIRROR1_COPY_24_DEPTH, mode=Mode.SUBTRACT)

    # Mirror1 copy 25 sketch → Mirror1 copy 25 (cut)
    with BuildSketch(Plane(origin=(10.16, -0.785, 0), x_dir=(1, 0, 0), z_dir=(0, -1, 0))):
        with Locations(Location((-12.7, -17.83, 0), (0, 0, 270))):
            Circle(MIRROR1_COPY_25_SKETCH_R)
    extrude(amount=-MIRROR1_COPY_25_DEPTH, mode=Mode.SUBTRACT)

    # Mirror1 copy 26 sketch → Mirror1 copy 26 (cut)
    with BuildSketch(Plane(origin=(12.7, -0.785, 0), x_dir=(1, 0, 0), z_dir=(0, -1, 0))):
        with Locations(Location((-12.7, -17.83, 0), (0, 0, 270))):
            Circle(MIRROR1_COPY_26_SKETCH_R)
    extrude(amount=-MIRROR1_COPY_26_DEPTH, mode=Mode.SUBTRACT)

    # Mirror1 copy 27 sketch → Mirror1 copy 27 (cut)
    with BuildSketch(Plane(origin=(15.24, -0.785, 0), x_dir=(1, 0, 0), z_dir=(0, -1, 0))):
        with Locations(Location((-12.7, -17.83, 0), (0, 0, 270))):
            Circle(MIRROR1_COPY_27_SKETCH_R)
    extrude(amount=-MIRROR1_COPY_27_DEPTH, mode=Mode.SUBTRACT)

    # Mirror1 copy 28 sketch → Mirror1 copy 28 (cut)
    with BuildSketch(Plane(origin=(17.78, -0.785, 0), x_dir=(1, 0, 0), z_dir=(0, -1, 0))):
        with Locations(Location((-12.7, -17.83, 0), (0, 0, 270))):
            Circle(MIRROR1_COPY_28_SKETCH_R)
    extrude(amount=-MIRROR1_COPY_28_DEPTH, mode=Mode.SUBTRACT)

    # Mirror1 copy 29 sketch → Mirror1 copy 29 (cut)
    with BuildSketch(Plane(origin=(20.32, -0.785, 0), x_dir=(1, 0, 0), z_dir=(0, -1, 0))):
        with Locations(Location((-12.7, -17.83, 0), (0, 0, 270))):
            Circle(MIRROR1_COPY_29_SKETCH_R)
    extrude(amount=-MIRROR1_COPY_29_DEPTH, mode=Mode.SUBTRACT)

    # Mirror1 copy 30 sketch → Mirror1 copy 30 (cut)
    with BuildSketch(Plane(origin=(22.86, -0.785, 0), x_dir=(1, 0, 0), z_dir=(0, -1, 0))):
        with Locations(Location((-12.7, -17.83, 0), (0, 0, 270))):
            Circle(MIRROR1_COPY_30_SKETCH_R)
    extrude(amount=-MIRROR1_COPY_30_DEPTH, mode=Mode.SUBTRACT)

    # Mirror1 copy 31 sketch → Mirror1 copy 31 (cut)
    with BuildSketch(Plane(origin=(25.4, -0.785, 0), x_dir=(1, 0, 0), z_dir=(0, -1, 0))):
        with Locations(Location((-12.7, -17.83, 0), (0, 0, 270))):
            Circle(MIRROR1_COPY_31_SKETCH_R)
    extrude(amount=-MIRROR1_COPY_31_DEPTH, mode=Mode.SUBTRACT)

    # Ø1.0 (1) Diameter Hole2 (through all)
    with Locations(Plane(origin=(0, 0.785, 0), x_dir=(1, 0, 0), z_dir=(0, 1, 0))):
        with Locations((-2.8, 11.6), (-2.8, 9.1)):
            Hole(F_1_0_1_DIAMETER_HOLE2_D / 2)

    # SolderAccessCutforCapacitorS → SolderAccessCutforCapacitor (cut)
    # profile 1 of 2: a face of its own
    with BuildSketch(Plane(origin=(0, 0.785, 0), x_dir=(1, 0, 0), z_dir=(0, 1, 0)).offset(SOLDERACCESSCUTFORCAPACITOR_START)):
        with Locations(Location((-2.8, 11.6, 0), (0, 0, 270))):
            Circle(SOLDERACCESSCUTFORCAPACITORS_R)
        with Locations(Location((-2.8, 11.6, 0), (0, 0, 270))):
            Circle(SOLDERACCESSCUTFORCAPACITORS_R_2, mode=Mode.SUBTRACT)
    # profile 2 of 2: a face of its own
    with BuildSketch(Plane(origin=(0, 0.785, 0), x_dir=(1, 0, 0), z_dir=(0, 1, 0)).offset(SOLDERACCESSCUTFORCAPACITOR_START)):
        with Locations(Location((-2.8, 9.1, 0), (0, 0, 270))):
            Circle(SOLDERACCESSCUTFORCAPACITORS_R)
        with Locations(Location((-2.8, 9.1, 0), (0, 0, 270))):
            Circle(SOLDERACCESSCUTFORCAPACITORS_R_2, mode=Mode.SUBTRACT)
    solderaccesscutforcapacitor = extrude(amount=SOLDERACCESSCUTFORCAPACITOR_DEPTH, mode=Mode.SUBTRACT)

    # SACCVM: SolderAccessCutforCapacitor across plane
    add(solderaccesscutforcapacitor.mirror(Plane.ZX), mode=Mode.SUBTRACT)


solid = part.part
